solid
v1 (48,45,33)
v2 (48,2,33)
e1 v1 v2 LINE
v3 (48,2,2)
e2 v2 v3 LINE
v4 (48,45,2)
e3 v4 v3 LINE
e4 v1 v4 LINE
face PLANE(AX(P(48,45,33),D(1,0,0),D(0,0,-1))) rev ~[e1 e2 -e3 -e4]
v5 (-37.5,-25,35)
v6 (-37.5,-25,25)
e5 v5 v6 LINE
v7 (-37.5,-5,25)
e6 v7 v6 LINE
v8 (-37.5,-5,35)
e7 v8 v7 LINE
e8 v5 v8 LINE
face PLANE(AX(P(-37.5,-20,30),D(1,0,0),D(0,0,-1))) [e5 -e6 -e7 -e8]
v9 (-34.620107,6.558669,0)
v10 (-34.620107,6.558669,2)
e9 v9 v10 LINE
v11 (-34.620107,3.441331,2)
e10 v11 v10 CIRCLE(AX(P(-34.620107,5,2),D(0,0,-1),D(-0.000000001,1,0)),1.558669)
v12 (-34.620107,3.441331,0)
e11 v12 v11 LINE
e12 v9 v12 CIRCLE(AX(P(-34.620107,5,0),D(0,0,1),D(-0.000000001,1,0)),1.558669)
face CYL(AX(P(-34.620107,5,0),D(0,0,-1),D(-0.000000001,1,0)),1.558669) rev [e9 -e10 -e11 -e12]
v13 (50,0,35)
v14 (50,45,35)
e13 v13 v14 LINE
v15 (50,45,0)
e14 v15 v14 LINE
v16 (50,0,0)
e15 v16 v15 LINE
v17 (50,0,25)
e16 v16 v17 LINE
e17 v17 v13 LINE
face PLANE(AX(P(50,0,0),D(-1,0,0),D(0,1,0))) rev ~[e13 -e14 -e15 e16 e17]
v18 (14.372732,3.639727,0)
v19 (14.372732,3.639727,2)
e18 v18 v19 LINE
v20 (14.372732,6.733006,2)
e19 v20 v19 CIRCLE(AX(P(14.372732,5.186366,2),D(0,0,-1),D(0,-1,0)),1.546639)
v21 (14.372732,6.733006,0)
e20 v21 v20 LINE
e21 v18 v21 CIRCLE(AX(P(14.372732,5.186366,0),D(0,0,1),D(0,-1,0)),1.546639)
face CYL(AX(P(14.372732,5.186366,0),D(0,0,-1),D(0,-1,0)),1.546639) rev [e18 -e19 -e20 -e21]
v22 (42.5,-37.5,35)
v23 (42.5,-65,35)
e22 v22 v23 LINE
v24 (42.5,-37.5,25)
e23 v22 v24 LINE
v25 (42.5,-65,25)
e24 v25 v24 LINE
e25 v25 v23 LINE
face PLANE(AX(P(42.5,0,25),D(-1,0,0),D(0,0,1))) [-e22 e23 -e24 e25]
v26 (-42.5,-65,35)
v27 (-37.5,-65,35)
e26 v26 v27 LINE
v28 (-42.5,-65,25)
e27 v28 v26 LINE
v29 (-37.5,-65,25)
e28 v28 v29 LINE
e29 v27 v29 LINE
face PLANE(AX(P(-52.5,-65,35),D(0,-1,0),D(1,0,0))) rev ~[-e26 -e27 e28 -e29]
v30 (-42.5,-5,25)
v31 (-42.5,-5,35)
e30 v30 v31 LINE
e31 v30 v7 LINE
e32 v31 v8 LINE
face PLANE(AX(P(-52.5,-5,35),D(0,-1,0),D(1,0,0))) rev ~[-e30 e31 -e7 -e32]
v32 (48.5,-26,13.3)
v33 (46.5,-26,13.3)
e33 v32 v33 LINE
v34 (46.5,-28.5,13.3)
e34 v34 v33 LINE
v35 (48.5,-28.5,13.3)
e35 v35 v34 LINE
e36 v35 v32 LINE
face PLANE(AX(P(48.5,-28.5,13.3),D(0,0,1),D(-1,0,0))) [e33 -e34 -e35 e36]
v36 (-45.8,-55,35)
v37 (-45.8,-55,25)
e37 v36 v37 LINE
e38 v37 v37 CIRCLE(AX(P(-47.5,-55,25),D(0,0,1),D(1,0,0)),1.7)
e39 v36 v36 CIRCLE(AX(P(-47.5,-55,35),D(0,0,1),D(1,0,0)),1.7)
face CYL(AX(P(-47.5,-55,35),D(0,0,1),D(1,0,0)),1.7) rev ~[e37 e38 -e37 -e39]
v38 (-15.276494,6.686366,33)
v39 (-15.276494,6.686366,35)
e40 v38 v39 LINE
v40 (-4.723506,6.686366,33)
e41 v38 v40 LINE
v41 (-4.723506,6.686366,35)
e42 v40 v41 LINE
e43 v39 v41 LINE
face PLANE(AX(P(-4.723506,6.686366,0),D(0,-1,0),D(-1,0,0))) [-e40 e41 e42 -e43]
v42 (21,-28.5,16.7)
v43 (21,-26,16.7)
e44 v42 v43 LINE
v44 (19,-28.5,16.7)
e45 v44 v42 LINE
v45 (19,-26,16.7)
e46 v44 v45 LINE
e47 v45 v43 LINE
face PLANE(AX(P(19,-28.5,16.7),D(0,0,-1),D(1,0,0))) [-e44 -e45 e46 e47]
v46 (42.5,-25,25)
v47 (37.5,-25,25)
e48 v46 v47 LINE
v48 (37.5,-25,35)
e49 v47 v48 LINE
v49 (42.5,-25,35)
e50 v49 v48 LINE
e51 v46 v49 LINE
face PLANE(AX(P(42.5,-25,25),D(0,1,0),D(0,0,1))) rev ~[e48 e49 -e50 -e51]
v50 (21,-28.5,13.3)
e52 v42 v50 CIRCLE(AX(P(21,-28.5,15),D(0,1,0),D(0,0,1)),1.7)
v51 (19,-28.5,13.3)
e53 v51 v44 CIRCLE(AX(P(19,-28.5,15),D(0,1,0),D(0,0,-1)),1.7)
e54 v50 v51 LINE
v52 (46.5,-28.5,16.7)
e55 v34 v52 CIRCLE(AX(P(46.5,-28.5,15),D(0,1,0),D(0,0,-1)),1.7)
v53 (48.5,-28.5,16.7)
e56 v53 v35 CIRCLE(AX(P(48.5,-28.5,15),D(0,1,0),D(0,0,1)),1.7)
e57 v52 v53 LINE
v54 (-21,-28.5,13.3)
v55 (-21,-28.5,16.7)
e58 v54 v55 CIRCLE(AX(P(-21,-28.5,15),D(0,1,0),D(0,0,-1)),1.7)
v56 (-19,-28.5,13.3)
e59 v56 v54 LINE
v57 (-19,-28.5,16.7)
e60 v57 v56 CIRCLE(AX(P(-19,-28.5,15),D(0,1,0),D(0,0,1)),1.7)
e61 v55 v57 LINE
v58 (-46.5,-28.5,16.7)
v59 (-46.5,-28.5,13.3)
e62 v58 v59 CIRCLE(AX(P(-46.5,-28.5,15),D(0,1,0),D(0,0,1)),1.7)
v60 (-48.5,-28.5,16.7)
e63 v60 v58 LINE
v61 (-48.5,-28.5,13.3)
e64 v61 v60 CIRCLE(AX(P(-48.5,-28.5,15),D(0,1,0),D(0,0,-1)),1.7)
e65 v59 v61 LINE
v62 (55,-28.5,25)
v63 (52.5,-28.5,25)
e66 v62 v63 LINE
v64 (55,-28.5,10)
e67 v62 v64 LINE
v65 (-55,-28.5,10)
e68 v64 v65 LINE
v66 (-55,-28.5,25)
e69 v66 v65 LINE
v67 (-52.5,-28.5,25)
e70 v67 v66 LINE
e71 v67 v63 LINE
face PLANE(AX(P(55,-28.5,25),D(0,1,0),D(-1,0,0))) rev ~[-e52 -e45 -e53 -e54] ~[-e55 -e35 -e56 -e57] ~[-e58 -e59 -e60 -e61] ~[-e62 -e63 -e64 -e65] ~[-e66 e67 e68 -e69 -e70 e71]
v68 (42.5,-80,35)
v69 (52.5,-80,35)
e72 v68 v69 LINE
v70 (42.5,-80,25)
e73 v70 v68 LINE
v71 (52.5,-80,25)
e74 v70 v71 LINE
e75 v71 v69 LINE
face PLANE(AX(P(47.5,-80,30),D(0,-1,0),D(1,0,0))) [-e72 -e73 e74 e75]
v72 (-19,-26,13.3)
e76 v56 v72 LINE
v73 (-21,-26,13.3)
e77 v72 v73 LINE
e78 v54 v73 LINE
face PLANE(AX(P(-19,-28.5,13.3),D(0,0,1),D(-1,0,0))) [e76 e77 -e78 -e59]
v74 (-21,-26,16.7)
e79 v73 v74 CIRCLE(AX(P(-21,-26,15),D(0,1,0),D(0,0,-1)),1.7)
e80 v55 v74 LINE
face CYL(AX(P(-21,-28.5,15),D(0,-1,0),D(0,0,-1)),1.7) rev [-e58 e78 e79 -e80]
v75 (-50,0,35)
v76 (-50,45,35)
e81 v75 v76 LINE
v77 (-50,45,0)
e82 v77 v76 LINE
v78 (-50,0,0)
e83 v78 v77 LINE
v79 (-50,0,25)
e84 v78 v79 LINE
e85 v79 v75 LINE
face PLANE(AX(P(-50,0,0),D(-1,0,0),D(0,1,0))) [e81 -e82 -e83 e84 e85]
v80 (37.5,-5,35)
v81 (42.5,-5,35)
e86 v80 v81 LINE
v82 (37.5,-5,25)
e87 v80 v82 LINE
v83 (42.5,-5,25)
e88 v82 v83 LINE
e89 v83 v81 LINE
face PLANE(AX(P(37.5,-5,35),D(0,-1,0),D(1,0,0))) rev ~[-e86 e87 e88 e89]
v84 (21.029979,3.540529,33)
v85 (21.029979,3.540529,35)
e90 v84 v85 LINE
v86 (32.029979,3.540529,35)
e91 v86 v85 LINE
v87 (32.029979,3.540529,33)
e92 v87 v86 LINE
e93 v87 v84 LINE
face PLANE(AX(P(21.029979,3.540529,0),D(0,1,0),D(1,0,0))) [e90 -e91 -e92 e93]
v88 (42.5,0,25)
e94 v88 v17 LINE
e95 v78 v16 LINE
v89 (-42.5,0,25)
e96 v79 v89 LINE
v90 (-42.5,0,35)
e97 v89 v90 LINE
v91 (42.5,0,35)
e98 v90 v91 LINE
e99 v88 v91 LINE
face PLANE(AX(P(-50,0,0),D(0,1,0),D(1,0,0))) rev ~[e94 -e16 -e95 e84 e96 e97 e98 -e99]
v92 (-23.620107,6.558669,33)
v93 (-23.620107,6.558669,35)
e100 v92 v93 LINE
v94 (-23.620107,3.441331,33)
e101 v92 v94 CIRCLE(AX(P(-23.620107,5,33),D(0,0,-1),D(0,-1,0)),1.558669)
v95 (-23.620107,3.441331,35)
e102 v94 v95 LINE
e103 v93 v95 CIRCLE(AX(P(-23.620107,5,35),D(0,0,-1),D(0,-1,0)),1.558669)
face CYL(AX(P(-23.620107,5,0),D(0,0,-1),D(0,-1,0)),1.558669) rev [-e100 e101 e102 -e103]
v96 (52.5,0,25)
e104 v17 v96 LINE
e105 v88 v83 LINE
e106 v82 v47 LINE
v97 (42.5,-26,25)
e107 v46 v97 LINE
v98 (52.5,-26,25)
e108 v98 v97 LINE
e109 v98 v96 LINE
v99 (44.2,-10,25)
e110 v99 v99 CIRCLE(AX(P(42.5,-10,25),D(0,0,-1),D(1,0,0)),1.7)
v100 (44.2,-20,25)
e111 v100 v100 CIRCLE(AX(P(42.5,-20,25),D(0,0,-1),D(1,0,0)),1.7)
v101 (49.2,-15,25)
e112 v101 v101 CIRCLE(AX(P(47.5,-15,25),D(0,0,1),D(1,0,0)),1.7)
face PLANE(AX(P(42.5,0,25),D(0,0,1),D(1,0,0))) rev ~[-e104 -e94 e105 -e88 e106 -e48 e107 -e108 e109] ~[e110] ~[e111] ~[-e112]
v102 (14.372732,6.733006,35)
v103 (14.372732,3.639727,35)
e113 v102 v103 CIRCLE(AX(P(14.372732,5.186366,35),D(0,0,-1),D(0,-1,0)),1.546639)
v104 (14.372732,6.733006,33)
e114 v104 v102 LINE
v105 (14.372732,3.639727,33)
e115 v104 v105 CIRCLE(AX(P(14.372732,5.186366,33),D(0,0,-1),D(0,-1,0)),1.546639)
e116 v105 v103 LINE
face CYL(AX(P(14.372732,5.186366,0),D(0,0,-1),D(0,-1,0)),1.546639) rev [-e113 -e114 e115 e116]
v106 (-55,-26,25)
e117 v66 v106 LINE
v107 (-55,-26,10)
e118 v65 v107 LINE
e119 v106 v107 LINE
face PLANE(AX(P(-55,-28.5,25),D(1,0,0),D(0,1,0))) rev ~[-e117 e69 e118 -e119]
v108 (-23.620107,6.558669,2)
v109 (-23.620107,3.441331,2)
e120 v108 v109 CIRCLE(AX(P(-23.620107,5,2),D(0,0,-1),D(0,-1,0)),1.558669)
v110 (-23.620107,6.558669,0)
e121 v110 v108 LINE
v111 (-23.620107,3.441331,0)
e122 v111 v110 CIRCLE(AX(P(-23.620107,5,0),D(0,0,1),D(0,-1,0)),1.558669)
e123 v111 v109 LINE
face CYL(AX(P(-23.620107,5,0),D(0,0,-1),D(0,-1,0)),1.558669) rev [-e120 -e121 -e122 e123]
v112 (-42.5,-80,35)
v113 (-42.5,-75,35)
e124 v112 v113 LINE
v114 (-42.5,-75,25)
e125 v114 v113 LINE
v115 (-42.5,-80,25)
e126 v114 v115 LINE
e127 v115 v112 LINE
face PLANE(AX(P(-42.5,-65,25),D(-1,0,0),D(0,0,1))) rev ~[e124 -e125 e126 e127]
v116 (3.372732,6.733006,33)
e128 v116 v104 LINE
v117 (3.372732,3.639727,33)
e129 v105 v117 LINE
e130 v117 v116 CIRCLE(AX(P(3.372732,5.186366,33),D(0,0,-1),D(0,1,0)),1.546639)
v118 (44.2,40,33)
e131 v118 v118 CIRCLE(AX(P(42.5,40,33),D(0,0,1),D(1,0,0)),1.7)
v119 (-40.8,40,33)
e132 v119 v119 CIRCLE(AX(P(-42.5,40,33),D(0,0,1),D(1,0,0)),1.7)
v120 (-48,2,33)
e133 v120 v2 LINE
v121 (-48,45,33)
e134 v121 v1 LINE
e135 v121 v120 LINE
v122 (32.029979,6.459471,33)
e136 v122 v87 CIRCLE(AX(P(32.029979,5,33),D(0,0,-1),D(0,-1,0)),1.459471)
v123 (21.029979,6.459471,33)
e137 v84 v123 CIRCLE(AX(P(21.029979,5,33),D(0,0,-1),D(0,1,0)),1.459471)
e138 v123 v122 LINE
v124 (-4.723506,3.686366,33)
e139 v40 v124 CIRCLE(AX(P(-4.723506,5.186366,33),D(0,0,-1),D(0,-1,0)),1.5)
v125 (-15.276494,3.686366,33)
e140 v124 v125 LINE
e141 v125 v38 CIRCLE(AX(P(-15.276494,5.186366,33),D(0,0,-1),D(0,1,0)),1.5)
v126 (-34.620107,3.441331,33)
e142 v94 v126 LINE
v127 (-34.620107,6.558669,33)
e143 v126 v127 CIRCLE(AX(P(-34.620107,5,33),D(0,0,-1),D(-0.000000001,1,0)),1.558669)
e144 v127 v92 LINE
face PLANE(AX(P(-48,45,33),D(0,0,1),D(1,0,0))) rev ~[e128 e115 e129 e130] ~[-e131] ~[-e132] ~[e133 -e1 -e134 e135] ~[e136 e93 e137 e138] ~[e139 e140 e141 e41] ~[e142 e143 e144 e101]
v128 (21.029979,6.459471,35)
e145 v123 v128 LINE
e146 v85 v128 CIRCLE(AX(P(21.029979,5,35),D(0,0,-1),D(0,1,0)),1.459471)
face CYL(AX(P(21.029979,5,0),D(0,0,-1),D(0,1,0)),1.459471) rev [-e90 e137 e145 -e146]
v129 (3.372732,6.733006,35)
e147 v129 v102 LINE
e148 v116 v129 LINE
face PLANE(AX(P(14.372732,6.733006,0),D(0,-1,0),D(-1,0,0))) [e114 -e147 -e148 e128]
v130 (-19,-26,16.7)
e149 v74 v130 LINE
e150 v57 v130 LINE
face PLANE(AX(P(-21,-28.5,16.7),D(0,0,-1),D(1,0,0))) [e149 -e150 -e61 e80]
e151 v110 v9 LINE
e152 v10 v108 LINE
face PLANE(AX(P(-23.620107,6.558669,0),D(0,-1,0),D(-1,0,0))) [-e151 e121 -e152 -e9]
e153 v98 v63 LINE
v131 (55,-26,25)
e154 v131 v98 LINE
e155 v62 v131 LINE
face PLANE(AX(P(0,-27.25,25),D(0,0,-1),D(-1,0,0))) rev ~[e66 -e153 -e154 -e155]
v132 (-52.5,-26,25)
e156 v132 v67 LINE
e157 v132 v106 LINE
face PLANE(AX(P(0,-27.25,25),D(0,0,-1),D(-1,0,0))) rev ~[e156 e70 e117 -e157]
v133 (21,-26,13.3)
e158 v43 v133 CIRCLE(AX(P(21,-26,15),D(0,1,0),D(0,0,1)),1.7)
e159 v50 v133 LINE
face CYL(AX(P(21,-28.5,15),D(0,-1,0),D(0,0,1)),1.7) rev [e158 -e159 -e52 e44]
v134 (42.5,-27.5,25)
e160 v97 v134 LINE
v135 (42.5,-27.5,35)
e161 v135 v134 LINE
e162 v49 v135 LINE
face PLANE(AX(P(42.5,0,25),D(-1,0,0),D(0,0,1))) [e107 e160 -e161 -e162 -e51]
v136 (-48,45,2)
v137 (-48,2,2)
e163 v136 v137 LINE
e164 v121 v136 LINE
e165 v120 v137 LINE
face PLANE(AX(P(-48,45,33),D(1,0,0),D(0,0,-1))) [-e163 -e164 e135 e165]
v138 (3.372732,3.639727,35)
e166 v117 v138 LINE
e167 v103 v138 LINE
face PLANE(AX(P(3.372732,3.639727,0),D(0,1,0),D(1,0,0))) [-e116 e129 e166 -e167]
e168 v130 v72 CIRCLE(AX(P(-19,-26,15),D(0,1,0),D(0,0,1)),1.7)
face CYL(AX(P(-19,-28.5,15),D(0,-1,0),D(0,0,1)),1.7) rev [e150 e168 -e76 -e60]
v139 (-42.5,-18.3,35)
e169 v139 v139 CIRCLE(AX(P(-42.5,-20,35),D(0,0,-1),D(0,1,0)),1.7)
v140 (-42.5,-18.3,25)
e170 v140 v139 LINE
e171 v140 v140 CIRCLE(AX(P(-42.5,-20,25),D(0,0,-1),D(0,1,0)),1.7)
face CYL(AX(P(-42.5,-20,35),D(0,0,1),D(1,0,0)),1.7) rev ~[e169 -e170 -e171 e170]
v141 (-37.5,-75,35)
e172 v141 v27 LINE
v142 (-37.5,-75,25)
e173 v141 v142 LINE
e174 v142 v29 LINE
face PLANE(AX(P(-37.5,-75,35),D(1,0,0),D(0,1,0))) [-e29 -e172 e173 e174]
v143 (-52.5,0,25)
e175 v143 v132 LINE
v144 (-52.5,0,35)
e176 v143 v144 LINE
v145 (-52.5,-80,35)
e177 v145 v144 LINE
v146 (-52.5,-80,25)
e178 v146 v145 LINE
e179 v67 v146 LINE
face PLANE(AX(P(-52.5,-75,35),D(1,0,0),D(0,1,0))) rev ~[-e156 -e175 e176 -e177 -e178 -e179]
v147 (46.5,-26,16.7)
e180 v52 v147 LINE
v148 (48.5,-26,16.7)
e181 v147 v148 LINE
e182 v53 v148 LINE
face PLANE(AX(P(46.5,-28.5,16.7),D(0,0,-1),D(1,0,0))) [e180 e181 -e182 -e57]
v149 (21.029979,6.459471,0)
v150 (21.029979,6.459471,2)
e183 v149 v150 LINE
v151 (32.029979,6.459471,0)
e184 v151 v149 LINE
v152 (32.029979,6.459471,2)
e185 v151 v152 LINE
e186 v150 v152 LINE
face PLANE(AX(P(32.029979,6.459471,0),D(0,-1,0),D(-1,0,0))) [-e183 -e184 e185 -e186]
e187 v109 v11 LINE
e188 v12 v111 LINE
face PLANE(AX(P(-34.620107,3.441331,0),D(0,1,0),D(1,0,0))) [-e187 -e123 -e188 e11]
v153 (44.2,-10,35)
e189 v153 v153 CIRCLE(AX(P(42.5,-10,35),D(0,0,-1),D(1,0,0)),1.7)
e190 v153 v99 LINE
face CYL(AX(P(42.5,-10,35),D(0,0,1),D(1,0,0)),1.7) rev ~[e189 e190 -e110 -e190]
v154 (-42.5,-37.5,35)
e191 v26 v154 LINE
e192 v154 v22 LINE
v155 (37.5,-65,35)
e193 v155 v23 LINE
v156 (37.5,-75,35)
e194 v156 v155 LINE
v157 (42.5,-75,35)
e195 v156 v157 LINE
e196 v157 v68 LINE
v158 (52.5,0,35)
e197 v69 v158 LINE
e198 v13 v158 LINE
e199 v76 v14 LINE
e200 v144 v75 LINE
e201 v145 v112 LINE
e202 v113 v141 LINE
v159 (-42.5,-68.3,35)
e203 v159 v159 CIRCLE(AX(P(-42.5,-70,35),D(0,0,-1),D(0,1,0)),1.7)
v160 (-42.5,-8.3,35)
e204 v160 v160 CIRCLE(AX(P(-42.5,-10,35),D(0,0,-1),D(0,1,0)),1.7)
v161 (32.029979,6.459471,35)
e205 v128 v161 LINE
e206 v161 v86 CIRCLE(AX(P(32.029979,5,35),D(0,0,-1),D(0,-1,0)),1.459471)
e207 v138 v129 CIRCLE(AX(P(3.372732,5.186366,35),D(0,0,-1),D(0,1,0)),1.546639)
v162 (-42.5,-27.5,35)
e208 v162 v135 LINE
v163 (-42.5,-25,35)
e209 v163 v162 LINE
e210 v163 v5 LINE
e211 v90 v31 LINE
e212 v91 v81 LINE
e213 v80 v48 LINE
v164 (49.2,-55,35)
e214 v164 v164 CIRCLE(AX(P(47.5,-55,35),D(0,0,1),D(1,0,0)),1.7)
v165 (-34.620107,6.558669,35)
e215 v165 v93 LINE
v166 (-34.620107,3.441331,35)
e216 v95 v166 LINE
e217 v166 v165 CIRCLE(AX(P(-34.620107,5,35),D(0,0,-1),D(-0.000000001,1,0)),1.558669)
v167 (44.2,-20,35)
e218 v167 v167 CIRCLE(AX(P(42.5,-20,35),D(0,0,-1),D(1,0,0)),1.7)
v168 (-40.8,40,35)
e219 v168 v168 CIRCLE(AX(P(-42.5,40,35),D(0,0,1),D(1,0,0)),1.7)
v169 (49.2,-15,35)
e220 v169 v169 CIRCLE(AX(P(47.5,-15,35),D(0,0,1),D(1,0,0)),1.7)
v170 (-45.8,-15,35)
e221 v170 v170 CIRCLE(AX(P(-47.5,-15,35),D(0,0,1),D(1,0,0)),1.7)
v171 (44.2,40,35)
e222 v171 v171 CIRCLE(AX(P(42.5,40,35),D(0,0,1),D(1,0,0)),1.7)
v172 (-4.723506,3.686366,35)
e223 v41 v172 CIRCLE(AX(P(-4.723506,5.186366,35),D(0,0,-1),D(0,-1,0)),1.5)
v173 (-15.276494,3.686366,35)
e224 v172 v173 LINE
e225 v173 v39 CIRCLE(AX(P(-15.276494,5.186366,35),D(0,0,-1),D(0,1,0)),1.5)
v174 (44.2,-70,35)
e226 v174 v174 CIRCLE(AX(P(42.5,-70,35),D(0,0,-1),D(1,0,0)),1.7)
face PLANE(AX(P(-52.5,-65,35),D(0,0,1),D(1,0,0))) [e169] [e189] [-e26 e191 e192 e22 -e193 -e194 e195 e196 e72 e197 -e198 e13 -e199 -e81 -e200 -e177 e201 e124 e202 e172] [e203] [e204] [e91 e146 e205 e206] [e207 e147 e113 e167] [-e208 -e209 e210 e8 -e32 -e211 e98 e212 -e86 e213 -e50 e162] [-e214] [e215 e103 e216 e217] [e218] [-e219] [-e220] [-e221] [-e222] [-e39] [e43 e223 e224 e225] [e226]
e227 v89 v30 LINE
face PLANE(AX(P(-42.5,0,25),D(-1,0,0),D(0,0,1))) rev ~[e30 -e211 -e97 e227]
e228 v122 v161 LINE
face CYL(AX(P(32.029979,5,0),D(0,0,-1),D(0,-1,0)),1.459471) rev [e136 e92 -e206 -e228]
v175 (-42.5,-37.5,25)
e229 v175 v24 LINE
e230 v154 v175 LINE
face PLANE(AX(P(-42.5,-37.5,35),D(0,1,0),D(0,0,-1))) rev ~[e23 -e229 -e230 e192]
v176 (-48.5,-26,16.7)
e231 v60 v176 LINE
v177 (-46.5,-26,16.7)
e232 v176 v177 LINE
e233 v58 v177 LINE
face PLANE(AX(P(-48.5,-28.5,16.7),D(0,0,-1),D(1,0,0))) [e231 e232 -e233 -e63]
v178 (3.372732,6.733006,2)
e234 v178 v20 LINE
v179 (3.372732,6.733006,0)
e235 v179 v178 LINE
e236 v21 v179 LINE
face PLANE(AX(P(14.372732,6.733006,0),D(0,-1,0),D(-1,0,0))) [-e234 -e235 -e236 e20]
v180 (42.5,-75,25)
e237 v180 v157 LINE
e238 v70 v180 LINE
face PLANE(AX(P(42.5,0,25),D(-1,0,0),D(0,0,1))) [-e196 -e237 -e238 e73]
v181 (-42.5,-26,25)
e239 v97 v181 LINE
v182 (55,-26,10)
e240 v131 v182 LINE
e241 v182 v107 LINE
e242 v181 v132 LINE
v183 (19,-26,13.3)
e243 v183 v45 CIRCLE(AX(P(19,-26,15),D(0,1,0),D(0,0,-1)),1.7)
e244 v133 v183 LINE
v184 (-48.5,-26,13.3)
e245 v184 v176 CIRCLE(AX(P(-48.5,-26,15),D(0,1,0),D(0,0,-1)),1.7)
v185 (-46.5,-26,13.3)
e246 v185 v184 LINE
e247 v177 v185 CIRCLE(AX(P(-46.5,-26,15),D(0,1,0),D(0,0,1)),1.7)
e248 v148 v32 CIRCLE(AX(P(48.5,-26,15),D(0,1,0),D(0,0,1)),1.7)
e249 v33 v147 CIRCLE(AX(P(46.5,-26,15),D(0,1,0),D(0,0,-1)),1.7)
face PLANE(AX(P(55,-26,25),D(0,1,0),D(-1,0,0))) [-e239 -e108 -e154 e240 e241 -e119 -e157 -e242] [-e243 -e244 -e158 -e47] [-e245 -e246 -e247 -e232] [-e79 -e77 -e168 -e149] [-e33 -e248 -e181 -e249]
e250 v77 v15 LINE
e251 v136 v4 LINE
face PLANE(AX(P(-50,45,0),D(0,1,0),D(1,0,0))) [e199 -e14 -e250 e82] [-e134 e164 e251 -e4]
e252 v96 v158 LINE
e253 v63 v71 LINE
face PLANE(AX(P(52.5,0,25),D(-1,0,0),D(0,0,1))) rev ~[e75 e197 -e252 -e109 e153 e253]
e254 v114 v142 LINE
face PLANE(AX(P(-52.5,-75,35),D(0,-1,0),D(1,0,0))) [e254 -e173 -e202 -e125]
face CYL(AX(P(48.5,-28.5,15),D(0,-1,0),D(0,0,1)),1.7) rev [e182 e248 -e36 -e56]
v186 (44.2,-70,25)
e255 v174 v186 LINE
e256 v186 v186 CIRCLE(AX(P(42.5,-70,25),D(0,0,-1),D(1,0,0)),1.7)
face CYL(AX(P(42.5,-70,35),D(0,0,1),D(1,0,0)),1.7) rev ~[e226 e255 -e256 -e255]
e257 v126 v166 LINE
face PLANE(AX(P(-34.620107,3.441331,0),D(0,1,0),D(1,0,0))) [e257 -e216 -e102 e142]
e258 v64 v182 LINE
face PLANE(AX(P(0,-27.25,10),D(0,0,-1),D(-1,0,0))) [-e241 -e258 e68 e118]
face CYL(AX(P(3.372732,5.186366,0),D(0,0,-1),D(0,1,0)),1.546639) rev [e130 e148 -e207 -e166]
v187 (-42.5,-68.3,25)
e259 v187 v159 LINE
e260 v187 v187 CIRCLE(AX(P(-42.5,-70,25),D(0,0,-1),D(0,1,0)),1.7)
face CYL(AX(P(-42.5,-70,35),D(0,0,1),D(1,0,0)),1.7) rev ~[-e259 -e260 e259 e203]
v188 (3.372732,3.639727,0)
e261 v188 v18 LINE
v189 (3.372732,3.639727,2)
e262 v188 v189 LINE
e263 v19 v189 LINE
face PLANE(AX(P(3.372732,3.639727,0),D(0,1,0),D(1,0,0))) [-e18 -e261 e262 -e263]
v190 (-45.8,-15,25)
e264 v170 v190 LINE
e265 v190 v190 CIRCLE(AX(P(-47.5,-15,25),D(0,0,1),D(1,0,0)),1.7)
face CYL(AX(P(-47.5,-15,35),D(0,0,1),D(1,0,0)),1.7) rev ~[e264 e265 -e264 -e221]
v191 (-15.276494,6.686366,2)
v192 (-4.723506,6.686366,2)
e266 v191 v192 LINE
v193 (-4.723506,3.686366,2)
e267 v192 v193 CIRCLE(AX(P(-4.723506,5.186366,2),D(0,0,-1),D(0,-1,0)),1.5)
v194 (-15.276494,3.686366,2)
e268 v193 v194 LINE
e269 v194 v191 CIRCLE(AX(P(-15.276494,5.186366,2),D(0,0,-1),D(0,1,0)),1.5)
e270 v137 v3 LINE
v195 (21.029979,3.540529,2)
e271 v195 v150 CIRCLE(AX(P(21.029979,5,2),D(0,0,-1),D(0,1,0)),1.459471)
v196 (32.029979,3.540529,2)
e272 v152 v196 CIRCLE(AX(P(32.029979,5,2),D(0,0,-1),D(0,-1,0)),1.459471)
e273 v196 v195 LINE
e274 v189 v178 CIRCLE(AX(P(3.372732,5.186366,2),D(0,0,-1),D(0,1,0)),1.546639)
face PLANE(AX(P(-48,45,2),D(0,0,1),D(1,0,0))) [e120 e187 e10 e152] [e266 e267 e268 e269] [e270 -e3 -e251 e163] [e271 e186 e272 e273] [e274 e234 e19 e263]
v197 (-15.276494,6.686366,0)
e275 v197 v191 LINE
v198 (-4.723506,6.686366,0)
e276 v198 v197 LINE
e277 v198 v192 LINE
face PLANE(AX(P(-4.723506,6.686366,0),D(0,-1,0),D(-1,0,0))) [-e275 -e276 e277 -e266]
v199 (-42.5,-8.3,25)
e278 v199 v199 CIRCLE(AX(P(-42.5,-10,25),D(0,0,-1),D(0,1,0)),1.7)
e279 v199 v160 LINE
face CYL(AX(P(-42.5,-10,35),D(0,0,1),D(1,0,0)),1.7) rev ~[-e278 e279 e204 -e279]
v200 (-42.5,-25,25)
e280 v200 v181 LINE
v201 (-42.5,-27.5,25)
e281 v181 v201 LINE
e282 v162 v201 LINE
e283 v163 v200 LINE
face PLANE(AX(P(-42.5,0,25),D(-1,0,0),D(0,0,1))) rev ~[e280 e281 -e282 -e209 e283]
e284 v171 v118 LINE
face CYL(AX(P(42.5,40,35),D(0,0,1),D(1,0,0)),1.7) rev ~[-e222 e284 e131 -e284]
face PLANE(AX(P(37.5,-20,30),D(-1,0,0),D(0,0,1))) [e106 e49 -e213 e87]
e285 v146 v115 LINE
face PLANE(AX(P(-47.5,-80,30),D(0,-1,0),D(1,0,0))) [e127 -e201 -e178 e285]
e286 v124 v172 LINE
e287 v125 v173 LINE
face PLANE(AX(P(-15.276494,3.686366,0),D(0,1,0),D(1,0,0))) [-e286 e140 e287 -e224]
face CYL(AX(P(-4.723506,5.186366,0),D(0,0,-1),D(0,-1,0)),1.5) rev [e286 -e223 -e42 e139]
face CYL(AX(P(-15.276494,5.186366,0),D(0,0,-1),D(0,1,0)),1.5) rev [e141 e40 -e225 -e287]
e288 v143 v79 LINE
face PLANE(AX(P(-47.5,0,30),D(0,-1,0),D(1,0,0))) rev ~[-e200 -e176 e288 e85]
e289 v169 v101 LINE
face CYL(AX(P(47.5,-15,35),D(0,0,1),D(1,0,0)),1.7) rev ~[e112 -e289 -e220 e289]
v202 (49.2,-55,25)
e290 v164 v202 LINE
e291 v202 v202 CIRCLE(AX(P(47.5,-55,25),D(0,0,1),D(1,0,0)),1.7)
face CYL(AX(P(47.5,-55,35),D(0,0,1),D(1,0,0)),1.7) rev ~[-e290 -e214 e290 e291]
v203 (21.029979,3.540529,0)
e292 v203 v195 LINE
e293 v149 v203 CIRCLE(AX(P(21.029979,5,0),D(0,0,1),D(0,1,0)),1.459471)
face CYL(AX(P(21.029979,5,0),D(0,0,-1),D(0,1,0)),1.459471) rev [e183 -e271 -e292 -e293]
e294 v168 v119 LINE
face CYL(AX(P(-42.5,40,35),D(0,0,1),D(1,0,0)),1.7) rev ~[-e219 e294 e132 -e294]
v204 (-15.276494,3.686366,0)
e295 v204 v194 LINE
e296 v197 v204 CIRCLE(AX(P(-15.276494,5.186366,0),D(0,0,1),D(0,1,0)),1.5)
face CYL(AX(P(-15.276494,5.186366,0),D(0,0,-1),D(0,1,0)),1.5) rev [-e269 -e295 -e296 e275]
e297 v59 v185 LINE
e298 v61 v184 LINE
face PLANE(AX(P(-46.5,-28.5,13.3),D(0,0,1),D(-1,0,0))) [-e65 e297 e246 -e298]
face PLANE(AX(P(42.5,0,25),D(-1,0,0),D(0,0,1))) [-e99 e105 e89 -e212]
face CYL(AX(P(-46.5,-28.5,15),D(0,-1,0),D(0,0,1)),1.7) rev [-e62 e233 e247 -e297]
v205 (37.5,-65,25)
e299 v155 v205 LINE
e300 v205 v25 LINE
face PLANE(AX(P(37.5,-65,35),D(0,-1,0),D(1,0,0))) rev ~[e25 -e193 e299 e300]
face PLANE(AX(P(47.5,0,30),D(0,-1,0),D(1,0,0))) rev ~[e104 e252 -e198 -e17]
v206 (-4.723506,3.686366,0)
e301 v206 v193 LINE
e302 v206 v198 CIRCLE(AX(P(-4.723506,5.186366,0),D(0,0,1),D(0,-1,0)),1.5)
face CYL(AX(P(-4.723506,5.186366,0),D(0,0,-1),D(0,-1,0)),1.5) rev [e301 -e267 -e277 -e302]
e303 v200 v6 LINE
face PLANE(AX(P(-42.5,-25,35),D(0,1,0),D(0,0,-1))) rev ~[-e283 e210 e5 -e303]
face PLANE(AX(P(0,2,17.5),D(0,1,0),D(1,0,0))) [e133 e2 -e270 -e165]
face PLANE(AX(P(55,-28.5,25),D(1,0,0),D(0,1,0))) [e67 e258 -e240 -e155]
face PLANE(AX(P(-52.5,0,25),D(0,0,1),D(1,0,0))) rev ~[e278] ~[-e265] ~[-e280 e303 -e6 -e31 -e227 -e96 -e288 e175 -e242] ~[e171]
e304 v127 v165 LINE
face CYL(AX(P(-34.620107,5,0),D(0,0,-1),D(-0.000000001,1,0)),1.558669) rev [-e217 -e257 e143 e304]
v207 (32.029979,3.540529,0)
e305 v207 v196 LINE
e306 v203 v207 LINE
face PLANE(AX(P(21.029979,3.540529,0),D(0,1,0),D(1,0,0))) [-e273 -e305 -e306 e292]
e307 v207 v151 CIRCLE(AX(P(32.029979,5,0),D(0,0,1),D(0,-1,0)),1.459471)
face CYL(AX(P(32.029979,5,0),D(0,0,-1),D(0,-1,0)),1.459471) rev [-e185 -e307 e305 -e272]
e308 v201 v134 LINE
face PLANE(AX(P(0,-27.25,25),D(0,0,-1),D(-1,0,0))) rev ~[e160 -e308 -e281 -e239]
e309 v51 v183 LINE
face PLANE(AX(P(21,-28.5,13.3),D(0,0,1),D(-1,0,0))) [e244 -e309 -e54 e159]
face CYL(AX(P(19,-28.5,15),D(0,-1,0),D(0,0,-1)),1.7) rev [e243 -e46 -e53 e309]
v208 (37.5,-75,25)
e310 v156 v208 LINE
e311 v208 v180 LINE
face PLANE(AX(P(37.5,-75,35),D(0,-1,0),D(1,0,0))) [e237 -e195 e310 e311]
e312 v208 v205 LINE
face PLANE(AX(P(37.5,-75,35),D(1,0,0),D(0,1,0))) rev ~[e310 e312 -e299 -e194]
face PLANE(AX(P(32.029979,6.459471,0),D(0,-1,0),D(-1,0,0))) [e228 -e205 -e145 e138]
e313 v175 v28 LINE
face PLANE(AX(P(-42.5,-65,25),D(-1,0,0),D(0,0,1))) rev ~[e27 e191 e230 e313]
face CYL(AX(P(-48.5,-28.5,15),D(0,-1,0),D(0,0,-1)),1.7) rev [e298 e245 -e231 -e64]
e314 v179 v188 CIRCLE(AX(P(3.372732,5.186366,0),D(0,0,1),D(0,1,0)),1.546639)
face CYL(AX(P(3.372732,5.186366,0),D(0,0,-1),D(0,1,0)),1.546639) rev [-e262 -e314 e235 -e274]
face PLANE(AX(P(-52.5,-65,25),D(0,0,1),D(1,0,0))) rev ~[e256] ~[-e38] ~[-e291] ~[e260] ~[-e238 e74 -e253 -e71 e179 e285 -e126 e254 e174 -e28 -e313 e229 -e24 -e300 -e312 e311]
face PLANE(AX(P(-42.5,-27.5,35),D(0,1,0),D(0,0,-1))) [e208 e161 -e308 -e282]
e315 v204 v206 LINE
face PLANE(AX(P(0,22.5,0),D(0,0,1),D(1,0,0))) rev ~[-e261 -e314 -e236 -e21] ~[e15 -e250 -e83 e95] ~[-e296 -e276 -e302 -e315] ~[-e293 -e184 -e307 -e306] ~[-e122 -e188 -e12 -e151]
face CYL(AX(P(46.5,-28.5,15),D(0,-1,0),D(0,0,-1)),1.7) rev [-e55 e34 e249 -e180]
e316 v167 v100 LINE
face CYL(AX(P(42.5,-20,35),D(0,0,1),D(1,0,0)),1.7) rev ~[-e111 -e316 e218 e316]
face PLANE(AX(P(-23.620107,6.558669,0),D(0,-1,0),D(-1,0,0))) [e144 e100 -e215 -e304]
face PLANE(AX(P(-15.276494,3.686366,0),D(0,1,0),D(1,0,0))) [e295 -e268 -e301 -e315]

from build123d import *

# Parameters (mm, degrees)
V3_BOX_FOOTPRINT_100_X_45_MM_W                 = 100
V3_BOX_FOOTPRINT_100_X_45_MM_H                 = 45
V3_BOX_HEIGHT_35_MM_DEPTH                      = 35
V3_REAR_OPENING_96_X_31_MM_W                   = 96
V3_REAR_OPENING_96_X_31_MM_H                   = 31
V3_CAVITY_ALL_WALLS_2_MM_DEPTH                 = 43
V3_SQUARE_BEAMS_10_X_10_PITCH_95_MM_W          = 10
V3_SQUARE_BEAMS_10_X_10_PITCH_95_MM_H          = 10
V3_FORWARD_BEAM_LENGTH_65_MM_DEPTH             = 65
V3_LEFT_PCB_EAR_PROFILE_W                      = 10
V3_LEFT_PCB_EAR_PROFILE_H                      = 10
V3_LEFT_INWARD_EAR_5_MM_DEPTH                  = 5
V3_RIGHT_PCB_EAR_PROFILE_W                     = 10
V3_RIGHT_PCB_EAR_PROFILE_H                     = 10
V3_RIGHT_INWARD_EAR_5_MM_DEPTH                 = 5
V3_PCB_ROOF_PAIR_PITCH_85_MM_R                 = 1.7
V3_M3_ROOF_HOLES_DIAMETER_3_4_MM_DEPTH         = 2
V3_PCB_FORWARD_PAIR_ROW_SPACING_60_MM_R        = 1.7
V3_M3_PCB_EAR_HOLES_DEPTH                      = 10
V3_CHASSIS_TOP_HOLES_WIDTH_95_DEPTH_40_M_R     = 1.7
V3_M3_BEAM_TOP_BOTTOM_HOLES_DEPTH              = 10
V3_HANGING_PLATE_OFFSET_26_THICKNESS_2_5_W     = 110
V3_HANGING_PLATE_OFFSET_26_THICKNESS_2_5_H     = 2.5
V3_MOUNTING_PLATE_DOWNWARD_15_MM_WIDTH_1_DEPTH = 15
FOUR_HORIZONTAL_SLOTS_3_4_X_5_4_MM_DEPTH       = 2.5
CUT_EXTRUDE_1_DEPTH                            = 93.059763198
H_CROSSMEMBER_10_X_10_MM_AT_BEAM_MIDPOIN_W     = 10
H_CROSSMEMBER_10_X_10_MM_AT_BEAM_MIDPOIN_H     = 10
H_CROSSMEMBER_85_MM_DEPTH                      = 85
LONGITUDINAL_START                             = -2
BEAM_CAVITIES_6_MM_WIDE_PRESERVING_SCREW_W     = 6
BEAM_CAVITIES_6_MM_WIDE_PRESERVING_SCREW_H     = 6
BEAM_CAVITIES_6_MM_WIDE_PRESERVING_SCREW_H_2   = 27
BEAM_CAVITIES_6_MM_WIDE_PRESERVING_SCREW_H_3   = 9
LONGITUDINAL_BEAM_WALLS_2_MM_INNER_HEI_DEPTH   = 6
H_START                                        = -2
H_CROSSMEMBER_CAVITY_CONNECTS_BOTH_BEAM_W      = 89
H_CROSSMEMBER_CAVITY_CONNECTS_BOTH_BEAM_H      = 6
H_CROSSMEMBER_WALLS_2_MM_DEPTH                 = 6
CUT_EXTRUDE_4_DEPTH                            = 93.059763198
V6_EXTEND_10_X_10_HOLLOW_BEAMS_WITH_2_MM_W     = 10
V6_EXTEND_10_X_10_HOLLOW_BEAMS_WITH_2_MM_H     = 10
V6_EXTEND_10_X_10_HOLLOW_BEAMS_WITH_2_MM_W_2   = 6
V6_EXTEND_10_X_10_HOLLOW_BEAMS_WITH_2_MM_H_2   = 6
V6_HOLLOW_BEAM_EXTENSIONS_15_MM_DEPTH          = 15
V6_FOUR_FULL_DEPTH_PCB_PADS_CENTERS_X42_W      = 15
V6_FOUR_FULL_DEPTH_PCB_PADS_CENTERS_X42_H      = 10
V6_SOLID_SCREW_PADS_WITH_5_MM_INWARD_EAR_DEPTH = 10
V6_PCB_HOLES_85_X_60_MM_AND_RETAINED_CHA_R     = 1.7
V6_FOUR_PCB_M3_HOLES_THROUGH_REINFORCED_DEPTH  = 10
V7_RETAIN_RAIL_ENVELOPES_10_X_10_LENGTH_W      = 10
V7_RETAIN_RAIL_ENVELOPES_10_X_10_LENGTH_H      = 80
V7_SOLID_LONGITUDINAL_BEAMS_DEPTH              = 10
V7_RETAIN_H_CROSSMEMBER_ENVELOPE_W             = 85
V7_RETAIN_H_CROSSMEMBER_ENVELOPE_H             = 10
V7_SOLID_H_CROSSMEMBER_DEPTH                   = 10
V7_PRESERVE_ALL_TEN_EXISTING_BEAM_M3_BOR_R     = 1.7
V7_RESTORE_CHASSIS_AND_PCB_CLEARANCE_BOR_DEPTH = 10
V7_REFILL_OLD_MOUNTING_SLOTS_WITHIN_UNCH_W     = 110
V7_REFILL_OLD_MOUNTING_SLOTS_WITHIN_UNCH_H     = 15
V7_CLOSE_PREVIOUS_SLOT_POSITIONS_DEPTH         = 2.5
V7_FOUR_HORIZONTAL_SLOTS_3_4_X_5_4_MM_AT_DEPTH = 2.5


with BuildPart() as part:
    # V3 box footprint 100 x 45 mm → V3 box height 35 mm (new body)
    with BuildSketch(Plane.XY):
        with Locations((0, 22.5)):
            Rectangle(V3_BOX_FOOTPRINT_100_X_45_MM_W, V3_BOX_FOOTPRINT_100_X_45_MM_H)
    extrude(amount=V3_BOX_HEIGHT_35_MM_DEPTH)

    # V3 rear opening 96 x 31 mm → V3 cavity all walls 2 mm (cut)
    with BuildSketch(Plane(origin=(0, 45, 0), x_dir=(1, 0, 0), z_dir=(0, 1, 0))):
        with Locations((0, -17.5)):
            Rectangle(V3_REAR_OPENING_96_X_31_MM_W, V3_REAR_OPENING_96_X_31_MM_H)
    extrude(amount=-V3_CAVITY_ALL_WALLS_2_MM_DEPTH, mode=Mode.SUBTRACT)

    # V3 square beams 10 x 10 pitch 95 mm → V3 forward beam length 65 mm (add)
    with BuildSketch(Plane.XZ):
        with Locations((-47.5, 30)):
            Rectangle(V3_SQUARE_BEAMS_10_X_10_PITCH_95_MM_W, V3_SQUARE_BEAMS_10_X_10_PITCH_95_MM_H)
        with Locations((47.5, 30)):
            Rectangle(V3_SQUARE_BEAMS_10_X_10_PITCH_95_MM_W, V3_SQUARE_BEAMS_10_X_10_PITCH_95_MM_H)
    extrude(amount=V3_FORWARD_BEAM_LENGTH_65_MM_DEPTH)

    # V3 left PCB ear profile → V3 left inward ear 5 mm (add)
    with BuildSketch(Plane(origin=(-42.5, 0, 0), x_dir=(0, 0, -1), z_dir=(1, 0, 0))):
        with Locations((-30, -20)):
            Rectangle(V3_LEFT_PCB_EAR_PROFILE_W, V3_LEFT_PCB_EAR_PROFILE_H)
    extrude(amount=V3_LEFT_INWARD_EAR_5_MM_DEPTH)

    # V3 right PCB ear profile → V3 right inward ear 5 mm (add)
    with BuildSketch(Plane.ZY.offset(-42.5)):
        with Locations((30, -20)):
            Rectangle(V3_RIGHT_PCB_EAR_PROFILE_W, V3_RIGHT_PCB_EAR_PROFILE_H)
    extrude(amount=V3_RIGHT_INWARD_EAR_5_MM_DEPTH)

    # V3 PCB roof pair pitch 85 mm → V3 M3 roof holes diameter 3.4 mm (cut)
    with BuildSketch(Plane.XY.offset(35)):
        with Locations((-42.5, 40)):
            Circle(V3_PCB_ROOF_PAIR_PITCH_85_MM_R)
        with Locations((42.5, 40)):
            Circle(V3_PCB_ROOF_PAIR_PITCH_85_MM_R)
    extrude(amount=-V3_M3_ROOF_HOLES_DIAMETER_3_4_MM_DEPTH, mode=Mode.SUBTRACT)

    # V3 PCB forward pair row spacing 60 mm → V3 M3 PCB ear holes (cut)
    with BuildSketch(Plane.XY.offset(35)):
        with Locations((-42.5, -20)):
            Circle(V3_PCB_FORWARD_PAIR_ROW_SPACING_60_MM_R)
        with Locations((42.5, -20)):
            Circle(V3_PCB_FORWARD_PAIR_ROW_SPACING_60_MM_R)
    extrude(amount=-V3_M3_PCB_EAR_HOLES_DEPTH, mode=Mode.SUBTRACT)

    # V3 chassis top holes width 95 depth 40 mm → V3 M3 beam top bottom holes (cut)
    with BuildSketch(Plane.XY.offset(35)):
        with Locations((-47.5, -55)):
            Circle(V3_CHASSIS_TOP_HOLES_WIDTH_95_DEPTH_40_M_R)
        with Locations((-47.5, -15)):
            Circle(V3_CHASSIS_TOP_HOLES_WIDTH_95_DEPTH_40_M_R)
        with Locations((47.5, -55)):
            Circle(V3_CHASSIS_TOP_HOLES_WIDTH_95_DEPTH_40_M_R)
        with Locations((47.5, -15)):
            Circle(V3_CHASSIS_TOP_HOLES_WIDTH_95_DEPTH_40_M_R)
    extrude(amount=-V3_M3_BEAM_TOP_BOTTOM_HOLES_DEPTH, mode=Mode.SUBTRACT)

    # V3 hanging plate offset 26 thickness 2.5 mm → V3 mounting plate downward 15 mm width 110 (add)
    with BuildSketch(Plane(origin=(0, 0, 25), x_dir=(-1, 0, 0), z_dir=(0, 0, -1))):
        with Locations((0, -27.25)):
            Rectangle(V3_HANGING_PLATE_OFFSET_26_THICKNESS_2_5_W, V3_HANGING_PLATE_OFFSET_26_THICKNESS_2_5_H)
    extrude(amount=V3_MOUNTING_PLATE_DOWNWARD_15_MM_WIDTH_1_DEPTH)

    # V3 slots 6 mm below beam underside centers 20 and 47.5 → Four horizontal slots 3.4 x 5.4 mm (cut)
    with BuildSketch(Plane.XZ.offset(28.5)):
        with BuildLine():
            Line((-48.5, 20.7), (-46.5, 20.7))
            ThreePointArc((-46.5, 20.7), (-44.8, 19), (-46.5, 17.3))
            Line((-46.5, 17.3), (-48.5, 17.3))
            ThreePointArc((-48.5, 17.3), (-50.2, 19), (-48.5, 20.7))
        make_face()
        with BuildLine():
            Line((-21, 20.7), (-19, 20.7))
            ThreePointArc((-19, 20.7), (-17.3, 19), (-19, 17.3))
            Line((-19, 17.3), (-21, 17.3))
            ThreePointArc((-21, 17.3), (-22.7, 19), (-21, 20.7))
        make_face()
        with BuildLine():
            Line((19, 20.7), (21, 20.7))
            ThreePointArc((21, 20.7), (22.7, 19), (21, 17.3))
            Line((21, 17.3), (19, 17.3))
            ThreePointArc((19, 17.3), (17.3, 19), (19, 20.7))
        make_face()
        with BuildLine():
            Line((46.5, 20.7), (48.5, 20.7))
            ThreePointArc((48.5, 20.7), (50.2, 19), (48.5, 17.3))
            Line((48.5, 17.3), (46.5, 17.3))
            ThreePointArc((46.5, 17.3), (44.8, 19), (46.5, 20.7))
        make_face()
    extrude(amount=-FOUR_HORIZONTAL_SLOTS_3_4_X_5_4_MM_DEPTH, mode=Mode.SUBTRACT)

    # 草图2 → 切除-拉伸1 (cut, through all)
    with BuildSketch(Plane(origin=(0, 0, 0), x_dir=(-1, 0, 0), z_dir=(0, 0, -1))):
        with BuildLine():
            Line((-32.029979042, 6.459471041), (-21.029979042, 6.459471041))
            ThreePointArc((-21.029979042, 6.459471041), (-19.570508001, 5), (-21.029979042, 3.540528959))
            Line((-21.029979042, 3.540528959), (-32.029979042, 3.540528959))
            ThreePointArc((-32.029979042, 3.540528959), (-33.489450083, 5), (-32.029979042, 6.459471041))
        make_face()
        with BuildLine():
            Line((23.620107008, 6.558669056), (34.620107008, 6.558669056))
            ThreePointArc((34.620107008, 6.558669056), (36.178776063, 5), (34.620107008, 3.441330944))
            Line((34.620107008, 3.441330944), (23.620107008, 3.441330944))
            ThreePointArc((23.620107008, 3.441330944), (22.061437952, 5), (23.620107008, 6.558669056))
        make_face()
    extrude(amount=-CUT_EXTRUDE_1_DEPTH, mode=Mode.SUBTRACT)

    # H crossmember 10 x 10 mm at beam midpoint → H crossmember 85 mm (add)
    with BuildSketch(Plane(origin=(-42.5, 0, 0), x_dir=(0, 0, -1), z_dir=(1, 0, 0))):
        with Locations((-30, -32.5)):
            Rectangle(H_CROSSMEMBER_10_X_10_MM_AT_BEAM_MIDPOIN_W, H_CROSSMEMBER_10_X_10_MM_AT_BEAM_MIDPOIN_H)
    extrude(amount=H_CROSSMEMBER_85_MM_DEPTH)

    # Beam cavities 6 mm wide preserving screw collars → Longitudinal beam walls 2 mm - inner height 6 mm (cut)
    with BuildSketch(Plane.XY.offset(35).offset(LONGITUDINAL_START)):
        with Locations((-47.5, -62)):
            Rectangle(BEAM_CAVITIES_6_MM_WIDE_PRESERVING_SCREW_W, BEAM_CAVITIES_6_MM_WIDE_PRESERVING_SCREW_H)
        with Locations((-47.5, -37.5)):
            Rectangle(BEAM_CAVITIES_6_MM_WIDE_PRESERVING_SCREW_W, BEAM_CAVITIES_6_MM_WIDE_PRESERVING_SCREW_H_2)
        with Locations((-47.5, -6.5)):
            Rectangle(BEAM_CAVITIES_6_MM_WIDE_PRESERVING_SCREW_W, BEAM_CAVITIES_6_MM_WIDE_PRESERVING_SCREW_H_3)
        with Locations((47.5, -62)):
            Rectangle(BEAM_CAVITIES_6_MM_WIDE_PRESERVING_SCREW_W, BEAM_CAVITIES_6_MM_WIDE_PRESERVING_SCREW_H)
        with Locations((47.5, -37.5)):
            Rectangle(BEAM_CAVITIES_6_MM_WIDE_PRESERVING_SCREW_W, BEAM_CAVITIES_6_MM_WIDE_PRESERVING_SCREW_H_2)
        with Locations((47.5, -6.5)):
            Rectangle(BEAM_CAVITIES_6_MM_WIDE_PRESERVING_SCREW_W, BEAM_CAVITIES_6_MM_WIDE_PRESERVING_SCREW_H_3)
    extrude(amount=-LONGITUDINAL_BEAM_WALLS_2_MM_INNER_HEI_DEPTH, mode=Mode.SUBTRACT)

    # H crossmember cavity connects both beam cavities → H crossmember walls 2 mm (cut)
    with BuildSketch(Plane.XY.offset(35).offset(H_START)):
        with Locations((0, -32.5)):
            Rectangle(H_CROSSMEMBER_CAVITY_CONNECTS_BOTH_BEAM_W, H_CROSSMEMBER_CAVITY_CONNECTS_BOTH_BEAM_H)
    extrude(amount=-H_CROSSMEMBER_WALLS_2_MM_DEPTH, mode=Mode.SUBTRACT)

    # 草图8 → 切除-拉伸4 (cut, through all)
    with BuildSketch(Plane(origin=(0, 0, 0), x_dir=(-1, 0, 0), z_dir=(0, 0, -1))):
        with BuildLine():
            Line((-14.372732488, 6.733005515), (-3.372732488, 6.733005515))
            ThreePointArc((-3.372732488, 6.733005515), (-1.826093217, 5.186366244), (-3.372732488, 3.639726973))
            Line((-3.372732488, 3.639726973), (-14.372732488, 3.639726973))
            ThreePointArc((-14.372732488, 3.639726973), (-15.919371759, 5.186366244), (-14.372732488, 6.733005515))
        make_face()
        with BuildLine():
            Line((4.72350579, 6.686366244), (15.27649421, 6.686366244))
            ThreePointArc((15.27649421, 6.686366244), (16.77649421, 5.186366244), (15.27649421, 3.686366244))
            Line((15.27649421, 3.686366244), (4.72350579, 3.686366244))
            ThreePointArc((4.72350579, 3.686366244), (3.22350579, 5.186366244), (4.72350579, 6.686366244))
        make_face()
    extrude(amount=-CUT_EXTRUDE_4_DEPTH, mode=Mode.SUBTRACT)

    # V6 extend 10 x 10 hollow beams with 2 mm walls → V6 hollow beam extensions 15 mm (add)
    # profile 1 of 2: a face of its own
    with BuildSketch(Plane.XZ.offset(65)):
        with Locations((-47.5, 30)):
            Rectangle(V6_EXTEND_10_X_10_HOLLOW_BEAMS_WITH_2_MM_W, V6_EXTEND_10_X_10_HOLLOW_BEAMS_WITH_2_MM_H)
        with Locations((-47.5, 30)):
            Rectangle(V6_EXTEND_10_X_10_HOLLOW_BEAMS_WITH_2_MM_W_2, V6_EXTEND_10_X_10_HOLLOW_BEAMS_WITH_2_MM_H_2, mode=Mode.SUBTRACT)
    # profile 2 of 2: a face of its own
    with BuildSketch(Plane.XZ.offset(65)):
        with Locations((47.5, 30)):
            Rectangle(V6_EXTEND_10_X_10_HOLLOW_BEAMS_WITH_2_MM_W, V6_EXTEND_10_X_10_HOLLOW_BEAMS_WITH_2_MM_H)
        with Locations((47.5, 30)):
            Rectangle(V6_EXTEND_10_X_10_HOLLOW_BEAMS_WITH_2_MM_W_2, V6_EXTEND_10_X_10_HOLLOW_BEAMS_WITH_2_MM_H_2, mode=Mode.SUBTRACT)
    extrude(amount=V6_HOLLOW_BEAM_EXTENSIONS_15_MM_DEPTH)

    # V6 four full-depth PCB pads centers x42.5 y-70 and -10 → V6 solid screw pads with 5 mm inward ears (add)
    with BuildSketch(Plane.XY.offset(35)):
        with Locations((-45, -70)):
            Rectangle(V6_FOUR_FULL_DEPTH_PCB_PADS_CENTERS_X42_W, V6_FOUR_FULL_DEPTH_PCB_PADS_CENTERS_X42_H)
        with Locations((45, -70)):
            Rectangle(V6_FOUR_FULL_DEPTH_PCB_PADS_CENTERS_X42_W, V6_FOUR_FULL_DEPTH_PCB_PADS_CENTERS_X42_H)
        with Locations((-45, -10)):
            Rectangle(V6_FOUR_FULL_DEPTH_PCB_PADS_CENTERS_X42_W, V6_FOUR_FULL_DEPTH_PCB_PADS_CENTERS_X42_H)
        with Locations((45, -10)):
            Rectangle(V6_FOUR_FULL_DEPTH_PCB_PADS_CENTERS_X42_W, V6_FOUR_FULL_DEPTH_PCB_PADS_CENTERS_X42_H)
    extrude(amount=-V6_SOLID_SCREW_PADS_WITH_5_MM_INWARD_EAR_DEPTH)

    # V6 PCB holes 85 x 60 mm and retained chassis holes → V6 four PCB M3 holes through reinforced beam pads (cut)
    with BuildSketch(Plane.XY.offset(35)):
        with Locations((-42.5, -70)):
            Circle(V6_PCB_HOLES_85_X_60_MM_AND_RETAINED_CHA_R)
        with Locations((-42.5, -10)):
            Circle(V6_PCB_HOLES_85_X_60_MM_AND_RETAINED_CHA_R)
        with Locations((42.5, -70)):
            Circle(V6_PCB_HOLES_85_X_60_MM_AND_RETAINED_CHA_R)
        with Locations((42.5, -10)):
            Circle(V6_PCB_HOLES_85_X_60_MM_AND_RETAINED_CHA_R)
        with Locations((-47.5, -15)):
            Circle(V6_PCB_HOLES_85_X_60_MM_AND_RETAINED_CHA_R)
        with Locations((47.5, -15)):
            Circle(V6_PCB_HOLES_85_X_60_MM_AND_RETAINED_CHA_R)
    extrude(amount=-V6_FOUR_PCB_M3_HOLES_THROUGH_REINFORCED_DEPTH, mode=Mode.SUBTRACT)

    # V7 retain rail envelopes 10 x 10 length 80 mm → V7 solid longitudinal beams (add)
    with BuildSketch(Plane.XY.offset(35)):
        with Locations((-47.5, -40)):
            Rectangle(V7_RETAIN_RAIL_ENVELOPES_10_X_10_LENGTH_W, V7_RETAIN_RAIL_ENVELOPES_10_X_10_LENGTH_H)
        with Locations((47.5, -40)):
            Rectangle(V7_RETAIN_RAIL_ENVELOPES_10_X_10_LENGTH_W, V7_RETAIN_RAIL_ENVELOPES_10_X_10_LENGTH_H)
    extrude(amount=-V7_SOLID_LONGITUDINAL_BEAMS_DEPTH)

    # V7 retain H crossmember envelope → V7 solid H crossmember (add)
    with BuildSketch(Plane.XY.offset(35)):
        with Locations((0, -32.5)):
            Rectangle(V7_RETAIN_H_CROSSMEMBER_ENVELOPE_W, V7_RETAIN_H_CROSSMEMBER_ENVELOPE_H)
    extrude(amount=-V7_SOLID_H_CROSSMEMBER_DEPTH)

    # V7 preserve all ten existing beam M3 bores → V7 restore chassis and PCB clearance bores (cut)
    with BuildSketch(Plane.XY.offset(35)):
        with Locations((-47.5, -55)):
            Circle(V7_PRESERVE_ALL_TEN_EXISTING_BEAM_M3_BOR_R)
        with Locations((-47.5, -15)):
            Circle(V7_PRESERVE_ALL_TEN_EXISTING_BEAM_M3_BOR_R)
        with Locations((47.5, -55)):
            Circle(V7_PRESERVE_ALL_TEN_EXISTING_BEAM_M3_BOR_R)
        with Locations((47.5, -15)):
            Circle(V7_PRESERVE_ALL_TEN_EXISTING_BEAM_M3_BOR_R)
        with Locations((-42.5, -70)):
            Circle(V7_PRESERVE_ALL_TEN_EXISTING_BEAM_M3_BOR_R)
        with Locations((-42.5, -20)):
            Circle(V7_PRESERVE_ALL_TEN_EXISTING_BEAM_M3_BOR_R)
        with Locations((-42.5, -10)):
            Circle(V7_PRESERVE_ALL_TEN_EXISTING_BEAM_M3_BOR_R)
        with Locations((42.5, -70)):
            Circle(V7_PRESERVE_ALL_TEN_EXISTING_BEAM_M3_BOR_R)
        with Locations((42.5, -20)):
            Circle(V7_PRESERVE_ALL_TEN_EXISTING_BEAM_M3_BOR_R)
        with Locations((42.5, -10)):
            Circle(V7_PRESERVE_ALL_TEN_EXISTING_BEAM_M3_BOR_R)
    extrude(amount=-V7_RESTORE_CHASSIS_AND_PCB_CLEARANCE_BOR_DEPTH, mode=Mode.SUBTRACT)

    # V7 refill old mounting slots within unchanged plate → V7 close previous slot positions (add)
    with BuildSketch(Plane.XZ.offset(28.5)):
        with Locations((0, 17.5)):
            Rectangle(V7_REFILL_OLD_MOUNTING_SLOTS_WITHIN_UNCH_W, V7_REFILL_OLD_MOUNTING_SLOTS_WITHIN_UNCH_H)
    extrude(amount=-V7_CLOSE_PREVIOUS_SLOT_POSITIONS_DEPTH)

    # V7 slot centers z15 - 10 mm below beam underside z25 → V7 four horizontal slots 3.4 x 5.4 mm at 10 mm (cut)
    with BuildSketch(Plane.XZ.offset(28.5)):
        with BuildLine():
            Line((-48.5, 16.7), (-46.5, 16.7))
            ThreePointArc((-46.5, 16.7), (-44.8, 15), (-46.5, 13.3))
            Line((-46.5, 13.3), (-48.5, 13.3))
            ThreePointArc((-48.5, 13.3), (-50.2, 15), (-48.5, 16.7))
        make_face()
        with BuildLine():
            Line((-21, 16.7), (-19, 16.7))
            ThreePointArc((-19, 16.7), (-17.3, 15), (-19, 13.3))
            Line((-19, 13.3), (-21, 13.3))
            ThreePointArc((-21, 13.3), (-22.7, 15), (-21, 16.7))
        make_face()
        with BuildLine():
            Line((19, 16.7), (21, 16.7))
            ThreePointArc((21, 16.7), (22.7, 15), (21, 13.3))
            Line((21, 13.3), (19, 13.3))
            ThreePointArc((19, 13.3), (17.3, 15), (19, 16.7))
        make_face()
        with BuildLine():
            Line((46.5, 16.7), (48.5, 16.7))
            ThreePointArc((48.5, 16.7), (50.2, 15), (48.5, 13.3))
            Line((48.5, 13.3), (46.5, 13.3))
            ThreePointArc((46.5, 13.3), (44.8, 15), (46.5, 16.7))
        make_face()
    extrude(amount=-V7_FOUR_HORIZONTAL_SLOTS_3_4_X_5_4_MM_AT_DEPTH, mode=Mode.SUBTRACT)


solid = part.part
